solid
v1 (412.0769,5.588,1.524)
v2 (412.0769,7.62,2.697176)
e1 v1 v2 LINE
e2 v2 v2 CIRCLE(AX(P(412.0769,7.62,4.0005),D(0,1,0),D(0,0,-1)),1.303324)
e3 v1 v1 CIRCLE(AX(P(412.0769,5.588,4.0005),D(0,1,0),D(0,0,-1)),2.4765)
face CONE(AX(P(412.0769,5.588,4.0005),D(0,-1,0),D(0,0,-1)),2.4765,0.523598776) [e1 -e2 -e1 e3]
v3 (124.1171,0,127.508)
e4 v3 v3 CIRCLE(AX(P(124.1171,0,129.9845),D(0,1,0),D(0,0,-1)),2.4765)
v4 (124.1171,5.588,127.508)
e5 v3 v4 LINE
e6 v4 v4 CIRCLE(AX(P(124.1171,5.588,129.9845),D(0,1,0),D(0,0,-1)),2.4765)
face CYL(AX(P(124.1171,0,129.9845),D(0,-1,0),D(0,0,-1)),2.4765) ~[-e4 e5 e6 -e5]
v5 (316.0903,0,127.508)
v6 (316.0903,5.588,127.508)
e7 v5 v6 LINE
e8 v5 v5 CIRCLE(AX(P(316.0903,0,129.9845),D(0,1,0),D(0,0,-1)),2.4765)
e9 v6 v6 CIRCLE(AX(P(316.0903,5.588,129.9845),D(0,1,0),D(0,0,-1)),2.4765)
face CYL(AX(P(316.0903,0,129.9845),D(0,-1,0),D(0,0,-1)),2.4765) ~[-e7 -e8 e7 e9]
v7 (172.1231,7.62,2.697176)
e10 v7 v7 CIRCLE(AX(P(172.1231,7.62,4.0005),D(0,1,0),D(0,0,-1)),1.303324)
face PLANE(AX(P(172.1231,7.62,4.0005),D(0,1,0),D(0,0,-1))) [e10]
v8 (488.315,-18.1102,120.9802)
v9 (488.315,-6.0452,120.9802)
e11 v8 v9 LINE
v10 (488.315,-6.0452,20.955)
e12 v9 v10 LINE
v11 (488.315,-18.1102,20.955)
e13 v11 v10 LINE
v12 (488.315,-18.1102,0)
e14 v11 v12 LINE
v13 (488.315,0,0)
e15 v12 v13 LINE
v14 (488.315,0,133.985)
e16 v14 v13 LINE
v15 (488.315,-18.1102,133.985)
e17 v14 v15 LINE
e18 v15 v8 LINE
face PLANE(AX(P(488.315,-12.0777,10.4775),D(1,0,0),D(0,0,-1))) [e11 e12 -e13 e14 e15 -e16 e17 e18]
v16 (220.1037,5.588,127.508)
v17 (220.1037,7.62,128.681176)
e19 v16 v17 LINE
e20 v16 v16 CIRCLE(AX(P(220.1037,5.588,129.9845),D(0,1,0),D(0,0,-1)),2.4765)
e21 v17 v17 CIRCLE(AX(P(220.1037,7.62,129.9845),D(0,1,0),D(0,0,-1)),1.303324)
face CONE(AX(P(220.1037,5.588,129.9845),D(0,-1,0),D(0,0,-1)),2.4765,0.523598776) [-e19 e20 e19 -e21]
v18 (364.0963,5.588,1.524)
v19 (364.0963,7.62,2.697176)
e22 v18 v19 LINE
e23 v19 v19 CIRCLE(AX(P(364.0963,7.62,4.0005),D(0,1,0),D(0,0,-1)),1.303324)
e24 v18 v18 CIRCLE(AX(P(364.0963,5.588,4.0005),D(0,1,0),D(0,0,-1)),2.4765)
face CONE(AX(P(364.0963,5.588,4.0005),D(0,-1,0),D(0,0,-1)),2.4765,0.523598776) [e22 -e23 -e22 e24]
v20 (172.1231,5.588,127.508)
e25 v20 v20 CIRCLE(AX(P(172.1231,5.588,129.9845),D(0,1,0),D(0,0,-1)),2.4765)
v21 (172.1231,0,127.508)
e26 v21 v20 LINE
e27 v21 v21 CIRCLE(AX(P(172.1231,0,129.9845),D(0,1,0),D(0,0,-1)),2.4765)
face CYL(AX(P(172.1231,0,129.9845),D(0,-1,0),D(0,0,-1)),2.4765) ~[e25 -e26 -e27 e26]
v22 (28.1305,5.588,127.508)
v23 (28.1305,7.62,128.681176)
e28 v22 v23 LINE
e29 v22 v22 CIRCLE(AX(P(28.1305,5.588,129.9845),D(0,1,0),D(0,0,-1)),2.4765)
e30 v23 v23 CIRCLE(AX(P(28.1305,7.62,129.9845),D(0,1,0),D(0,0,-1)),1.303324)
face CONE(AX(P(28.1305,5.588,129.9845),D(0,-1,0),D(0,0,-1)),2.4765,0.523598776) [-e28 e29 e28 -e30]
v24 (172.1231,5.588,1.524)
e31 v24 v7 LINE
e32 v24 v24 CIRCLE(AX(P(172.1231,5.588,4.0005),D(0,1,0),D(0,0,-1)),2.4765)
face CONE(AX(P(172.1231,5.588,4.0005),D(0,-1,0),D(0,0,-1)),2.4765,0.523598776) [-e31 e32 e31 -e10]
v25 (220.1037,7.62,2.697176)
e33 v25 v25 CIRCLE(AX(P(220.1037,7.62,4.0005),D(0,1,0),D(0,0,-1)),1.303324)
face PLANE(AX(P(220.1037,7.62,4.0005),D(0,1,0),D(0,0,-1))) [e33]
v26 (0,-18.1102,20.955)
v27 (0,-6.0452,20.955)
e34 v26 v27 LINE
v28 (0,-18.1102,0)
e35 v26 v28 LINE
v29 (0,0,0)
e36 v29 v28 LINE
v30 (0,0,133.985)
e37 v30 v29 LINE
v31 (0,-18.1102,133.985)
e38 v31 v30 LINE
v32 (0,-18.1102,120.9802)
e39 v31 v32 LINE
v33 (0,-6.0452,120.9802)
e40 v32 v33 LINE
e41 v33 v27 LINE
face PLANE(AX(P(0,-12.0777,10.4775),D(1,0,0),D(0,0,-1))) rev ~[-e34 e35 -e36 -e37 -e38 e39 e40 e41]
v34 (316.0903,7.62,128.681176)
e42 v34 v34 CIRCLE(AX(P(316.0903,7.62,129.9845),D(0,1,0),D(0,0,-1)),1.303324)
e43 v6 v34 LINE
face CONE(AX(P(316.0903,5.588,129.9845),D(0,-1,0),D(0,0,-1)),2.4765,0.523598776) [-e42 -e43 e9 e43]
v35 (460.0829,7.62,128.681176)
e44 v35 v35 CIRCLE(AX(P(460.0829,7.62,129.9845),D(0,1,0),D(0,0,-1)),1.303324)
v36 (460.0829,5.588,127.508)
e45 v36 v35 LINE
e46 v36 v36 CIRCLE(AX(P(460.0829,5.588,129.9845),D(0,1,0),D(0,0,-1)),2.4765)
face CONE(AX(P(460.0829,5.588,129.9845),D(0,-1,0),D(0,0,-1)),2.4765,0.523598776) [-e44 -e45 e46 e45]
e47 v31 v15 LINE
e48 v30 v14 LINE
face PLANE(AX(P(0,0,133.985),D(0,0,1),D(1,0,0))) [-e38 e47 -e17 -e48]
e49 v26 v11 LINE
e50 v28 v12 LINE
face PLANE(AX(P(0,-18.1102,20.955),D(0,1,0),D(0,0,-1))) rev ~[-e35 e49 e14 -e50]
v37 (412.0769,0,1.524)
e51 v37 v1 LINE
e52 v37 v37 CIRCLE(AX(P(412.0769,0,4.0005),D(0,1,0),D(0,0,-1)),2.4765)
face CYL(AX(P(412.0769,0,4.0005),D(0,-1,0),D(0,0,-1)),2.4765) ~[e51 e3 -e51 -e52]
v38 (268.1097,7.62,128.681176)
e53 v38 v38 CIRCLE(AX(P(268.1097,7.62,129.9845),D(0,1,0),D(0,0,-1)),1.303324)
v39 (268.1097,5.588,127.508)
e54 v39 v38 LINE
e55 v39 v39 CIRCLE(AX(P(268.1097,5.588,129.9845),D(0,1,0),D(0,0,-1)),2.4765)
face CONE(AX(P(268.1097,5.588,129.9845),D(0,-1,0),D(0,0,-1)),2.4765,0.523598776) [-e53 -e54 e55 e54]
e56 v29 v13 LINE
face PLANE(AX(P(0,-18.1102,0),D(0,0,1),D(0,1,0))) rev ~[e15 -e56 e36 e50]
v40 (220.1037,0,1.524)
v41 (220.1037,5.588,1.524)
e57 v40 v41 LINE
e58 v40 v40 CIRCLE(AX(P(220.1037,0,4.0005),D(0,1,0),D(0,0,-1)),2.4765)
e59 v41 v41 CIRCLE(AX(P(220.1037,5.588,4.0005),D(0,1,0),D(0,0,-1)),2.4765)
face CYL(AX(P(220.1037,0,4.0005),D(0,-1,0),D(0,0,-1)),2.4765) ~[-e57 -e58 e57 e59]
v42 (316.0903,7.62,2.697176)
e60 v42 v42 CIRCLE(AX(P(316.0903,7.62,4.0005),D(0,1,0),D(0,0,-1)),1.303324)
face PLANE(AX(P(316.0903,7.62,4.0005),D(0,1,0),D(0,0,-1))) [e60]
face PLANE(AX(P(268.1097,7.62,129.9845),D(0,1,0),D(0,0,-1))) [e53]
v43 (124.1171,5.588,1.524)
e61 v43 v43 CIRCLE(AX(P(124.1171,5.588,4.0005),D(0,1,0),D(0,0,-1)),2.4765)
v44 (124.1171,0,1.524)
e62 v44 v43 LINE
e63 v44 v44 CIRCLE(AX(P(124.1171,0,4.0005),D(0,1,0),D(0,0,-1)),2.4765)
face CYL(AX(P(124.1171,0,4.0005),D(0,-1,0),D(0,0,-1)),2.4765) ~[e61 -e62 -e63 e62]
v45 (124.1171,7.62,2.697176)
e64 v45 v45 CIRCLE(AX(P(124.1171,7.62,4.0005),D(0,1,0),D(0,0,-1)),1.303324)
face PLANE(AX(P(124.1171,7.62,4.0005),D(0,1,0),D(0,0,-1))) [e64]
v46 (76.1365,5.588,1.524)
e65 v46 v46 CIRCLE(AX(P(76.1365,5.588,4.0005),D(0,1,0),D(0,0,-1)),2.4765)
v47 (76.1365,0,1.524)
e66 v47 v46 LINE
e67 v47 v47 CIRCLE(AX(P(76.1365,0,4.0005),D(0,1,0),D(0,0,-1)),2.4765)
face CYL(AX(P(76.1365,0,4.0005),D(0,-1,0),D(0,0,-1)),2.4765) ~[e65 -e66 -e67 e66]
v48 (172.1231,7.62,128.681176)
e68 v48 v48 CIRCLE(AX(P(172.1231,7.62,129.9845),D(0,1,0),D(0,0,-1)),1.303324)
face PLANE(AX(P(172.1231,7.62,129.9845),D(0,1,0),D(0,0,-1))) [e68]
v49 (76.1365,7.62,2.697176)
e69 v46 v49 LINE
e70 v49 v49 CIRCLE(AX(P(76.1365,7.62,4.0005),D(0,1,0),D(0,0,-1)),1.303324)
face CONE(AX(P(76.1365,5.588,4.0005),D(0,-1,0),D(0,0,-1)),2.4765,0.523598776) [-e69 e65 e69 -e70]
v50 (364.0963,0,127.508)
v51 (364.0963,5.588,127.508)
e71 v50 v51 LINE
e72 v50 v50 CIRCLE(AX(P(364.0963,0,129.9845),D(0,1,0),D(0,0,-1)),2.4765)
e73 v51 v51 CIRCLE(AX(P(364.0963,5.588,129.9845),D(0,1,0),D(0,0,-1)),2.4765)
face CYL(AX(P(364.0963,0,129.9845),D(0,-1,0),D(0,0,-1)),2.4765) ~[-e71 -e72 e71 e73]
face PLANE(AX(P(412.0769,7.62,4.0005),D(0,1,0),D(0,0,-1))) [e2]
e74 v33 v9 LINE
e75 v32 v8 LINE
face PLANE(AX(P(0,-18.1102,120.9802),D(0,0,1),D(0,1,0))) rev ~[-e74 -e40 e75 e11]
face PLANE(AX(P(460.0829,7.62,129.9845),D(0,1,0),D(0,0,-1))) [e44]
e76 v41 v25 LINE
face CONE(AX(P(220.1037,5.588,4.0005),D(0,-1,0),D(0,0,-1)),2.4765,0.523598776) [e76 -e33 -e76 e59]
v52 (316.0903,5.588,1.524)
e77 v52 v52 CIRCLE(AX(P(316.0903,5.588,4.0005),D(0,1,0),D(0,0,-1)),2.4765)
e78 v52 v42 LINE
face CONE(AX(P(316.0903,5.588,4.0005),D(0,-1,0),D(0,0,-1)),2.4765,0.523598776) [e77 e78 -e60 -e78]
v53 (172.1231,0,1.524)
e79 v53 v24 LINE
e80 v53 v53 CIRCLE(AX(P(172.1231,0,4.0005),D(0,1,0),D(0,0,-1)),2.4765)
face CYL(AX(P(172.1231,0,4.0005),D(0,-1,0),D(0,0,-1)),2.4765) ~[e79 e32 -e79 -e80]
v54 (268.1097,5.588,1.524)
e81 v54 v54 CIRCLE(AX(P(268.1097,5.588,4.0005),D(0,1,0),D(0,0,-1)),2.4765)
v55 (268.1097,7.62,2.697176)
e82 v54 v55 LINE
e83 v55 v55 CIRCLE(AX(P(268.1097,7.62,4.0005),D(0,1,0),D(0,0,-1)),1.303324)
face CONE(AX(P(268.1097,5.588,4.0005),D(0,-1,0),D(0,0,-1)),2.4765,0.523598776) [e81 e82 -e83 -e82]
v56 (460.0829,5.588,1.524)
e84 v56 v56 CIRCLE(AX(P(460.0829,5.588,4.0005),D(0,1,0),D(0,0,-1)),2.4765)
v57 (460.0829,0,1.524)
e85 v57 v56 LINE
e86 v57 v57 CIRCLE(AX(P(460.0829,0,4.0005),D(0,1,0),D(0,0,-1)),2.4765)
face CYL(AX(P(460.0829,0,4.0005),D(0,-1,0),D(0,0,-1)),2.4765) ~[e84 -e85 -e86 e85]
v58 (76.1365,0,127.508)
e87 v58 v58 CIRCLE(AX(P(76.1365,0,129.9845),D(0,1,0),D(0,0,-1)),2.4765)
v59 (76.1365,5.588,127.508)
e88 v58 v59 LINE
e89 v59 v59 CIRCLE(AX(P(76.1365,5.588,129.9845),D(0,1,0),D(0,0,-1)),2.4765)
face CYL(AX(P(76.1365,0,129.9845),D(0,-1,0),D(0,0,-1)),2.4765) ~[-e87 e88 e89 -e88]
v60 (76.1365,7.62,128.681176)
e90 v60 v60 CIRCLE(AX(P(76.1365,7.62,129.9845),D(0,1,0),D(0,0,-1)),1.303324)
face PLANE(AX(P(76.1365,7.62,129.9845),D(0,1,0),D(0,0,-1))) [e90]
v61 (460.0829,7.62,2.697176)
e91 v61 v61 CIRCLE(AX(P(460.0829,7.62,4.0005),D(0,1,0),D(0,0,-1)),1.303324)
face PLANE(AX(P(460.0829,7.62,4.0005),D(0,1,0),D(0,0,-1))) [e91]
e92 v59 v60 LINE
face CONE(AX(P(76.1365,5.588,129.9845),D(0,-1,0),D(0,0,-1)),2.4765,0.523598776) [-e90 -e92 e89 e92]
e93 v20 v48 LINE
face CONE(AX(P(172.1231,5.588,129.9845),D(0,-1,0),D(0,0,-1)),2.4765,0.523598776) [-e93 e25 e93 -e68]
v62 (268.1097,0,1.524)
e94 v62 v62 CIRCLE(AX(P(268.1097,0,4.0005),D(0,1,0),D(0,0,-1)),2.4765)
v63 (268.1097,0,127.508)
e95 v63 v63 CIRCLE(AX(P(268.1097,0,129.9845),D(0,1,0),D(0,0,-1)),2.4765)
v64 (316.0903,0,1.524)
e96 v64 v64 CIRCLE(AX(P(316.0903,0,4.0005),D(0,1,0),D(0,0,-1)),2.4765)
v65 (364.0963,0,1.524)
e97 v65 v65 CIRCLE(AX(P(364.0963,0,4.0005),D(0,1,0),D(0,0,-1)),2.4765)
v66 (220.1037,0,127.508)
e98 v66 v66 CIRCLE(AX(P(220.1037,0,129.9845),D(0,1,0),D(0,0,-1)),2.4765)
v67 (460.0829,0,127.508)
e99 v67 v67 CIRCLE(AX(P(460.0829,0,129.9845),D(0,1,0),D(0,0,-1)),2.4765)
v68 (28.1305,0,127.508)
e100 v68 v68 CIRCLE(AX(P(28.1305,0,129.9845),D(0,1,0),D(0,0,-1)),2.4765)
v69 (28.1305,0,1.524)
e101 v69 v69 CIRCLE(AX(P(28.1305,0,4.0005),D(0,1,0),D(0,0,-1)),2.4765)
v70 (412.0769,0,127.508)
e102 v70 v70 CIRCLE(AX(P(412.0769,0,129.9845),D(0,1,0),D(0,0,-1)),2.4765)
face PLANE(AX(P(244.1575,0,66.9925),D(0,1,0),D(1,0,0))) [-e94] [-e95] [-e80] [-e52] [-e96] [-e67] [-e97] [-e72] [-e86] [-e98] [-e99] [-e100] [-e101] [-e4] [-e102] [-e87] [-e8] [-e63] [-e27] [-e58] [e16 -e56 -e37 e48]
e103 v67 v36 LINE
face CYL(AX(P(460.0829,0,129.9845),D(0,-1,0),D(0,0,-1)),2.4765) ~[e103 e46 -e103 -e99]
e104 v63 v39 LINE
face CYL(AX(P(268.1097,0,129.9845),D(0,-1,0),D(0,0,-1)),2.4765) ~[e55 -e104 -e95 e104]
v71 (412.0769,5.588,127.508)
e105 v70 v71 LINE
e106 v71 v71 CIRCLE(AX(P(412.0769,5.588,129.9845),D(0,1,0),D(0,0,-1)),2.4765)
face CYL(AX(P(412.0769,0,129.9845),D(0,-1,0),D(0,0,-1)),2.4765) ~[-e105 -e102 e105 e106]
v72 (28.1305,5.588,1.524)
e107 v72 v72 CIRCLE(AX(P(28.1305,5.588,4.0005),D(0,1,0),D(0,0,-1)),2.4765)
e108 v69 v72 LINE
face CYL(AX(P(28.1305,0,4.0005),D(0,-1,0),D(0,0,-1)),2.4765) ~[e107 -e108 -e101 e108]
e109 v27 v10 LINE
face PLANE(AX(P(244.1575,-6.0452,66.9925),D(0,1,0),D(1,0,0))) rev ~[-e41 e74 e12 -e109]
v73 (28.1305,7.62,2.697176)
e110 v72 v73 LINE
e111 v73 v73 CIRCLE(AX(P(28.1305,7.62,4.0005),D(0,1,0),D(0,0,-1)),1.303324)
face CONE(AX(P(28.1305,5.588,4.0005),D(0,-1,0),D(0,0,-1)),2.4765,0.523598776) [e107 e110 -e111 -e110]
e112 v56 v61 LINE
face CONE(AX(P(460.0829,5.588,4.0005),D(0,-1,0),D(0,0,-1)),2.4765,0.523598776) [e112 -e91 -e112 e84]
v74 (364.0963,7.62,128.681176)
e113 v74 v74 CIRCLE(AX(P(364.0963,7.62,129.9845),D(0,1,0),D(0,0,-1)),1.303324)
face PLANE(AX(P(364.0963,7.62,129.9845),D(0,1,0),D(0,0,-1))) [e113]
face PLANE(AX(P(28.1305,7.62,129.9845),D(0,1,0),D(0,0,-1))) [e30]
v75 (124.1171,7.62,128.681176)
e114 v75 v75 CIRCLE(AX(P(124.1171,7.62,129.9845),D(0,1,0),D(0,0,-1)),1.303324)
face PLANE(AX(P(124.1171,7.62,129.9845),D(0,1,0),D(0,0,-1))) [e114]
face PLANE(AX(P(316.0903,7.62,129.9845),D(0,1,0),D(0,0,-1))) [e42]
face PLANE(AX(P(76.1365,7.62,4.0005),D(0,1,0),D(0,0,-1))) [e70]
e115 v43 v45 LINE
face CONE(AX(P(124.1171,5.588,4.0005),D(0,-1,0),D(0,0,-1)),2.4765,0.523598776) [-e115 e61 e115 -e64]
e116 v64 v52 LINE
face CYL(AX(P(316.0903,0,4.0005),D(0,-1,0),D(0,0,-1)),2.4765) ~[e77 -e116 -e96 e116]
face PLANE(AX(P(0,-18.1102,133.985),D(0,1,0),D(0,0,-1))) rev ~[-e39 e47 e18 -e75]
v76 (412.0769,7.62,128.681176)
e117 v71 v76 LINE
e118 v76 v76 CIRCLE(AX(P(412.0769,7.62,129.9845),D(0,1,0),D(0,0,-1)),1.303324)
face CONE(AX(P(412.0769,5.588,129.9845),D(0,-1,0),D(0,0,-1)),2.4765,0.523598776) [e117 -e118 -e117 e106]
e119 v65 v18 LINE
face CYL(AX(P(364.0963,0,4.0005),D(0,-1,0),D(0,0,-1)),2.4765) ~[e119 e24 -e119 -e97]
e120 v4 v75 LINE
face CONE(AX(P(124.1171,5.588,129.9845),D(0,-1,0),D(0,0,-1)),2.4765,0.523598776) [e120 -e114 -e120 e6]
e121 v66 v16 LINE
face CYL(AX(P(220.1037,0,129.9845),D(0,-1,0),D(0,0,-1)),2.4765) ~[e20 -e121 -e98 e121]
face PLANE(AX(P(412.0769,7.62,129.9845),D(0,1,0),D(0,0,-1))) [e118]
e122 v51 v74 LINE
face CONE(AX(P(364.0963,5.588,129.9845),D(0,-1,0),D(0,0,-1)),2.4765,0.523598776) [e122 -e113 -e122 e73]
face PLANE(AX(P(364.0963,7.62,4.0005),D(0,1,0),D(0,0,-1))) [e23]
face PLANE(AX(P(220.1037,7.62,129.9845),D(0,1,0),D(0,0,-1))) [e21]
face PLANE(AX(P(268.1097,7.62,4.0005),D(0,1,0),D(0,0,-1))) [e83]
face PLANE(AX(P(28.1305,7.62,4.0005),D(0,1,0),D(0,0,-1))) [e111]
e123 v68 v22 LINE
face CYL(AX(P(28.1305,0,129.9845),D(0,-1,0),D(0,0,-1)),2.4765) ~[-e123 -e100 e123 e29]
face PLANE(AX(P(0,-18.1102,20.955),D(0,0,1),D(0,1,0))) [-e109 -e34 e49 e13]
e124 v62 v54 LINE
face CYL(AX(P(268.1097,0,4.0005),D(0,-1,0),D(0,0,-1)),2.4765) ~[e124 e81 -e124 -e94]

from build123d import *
from OCP.BRepFilletAPI import BRepFilletAPI_MakeChamfer

# Parameters (mm, degrees)
SKETCH1_W                   = 488.315
SKETCH1_H                   = 133.985
BOSS_EXTRUDE1_DEPTH         = 6.0452
SKETCH2_R                   = 2.4765
BOSS_EXTRUDE2_DEPTH         = 7.62
CHAMFER1_SIZE               = 2.032
CHAMFER1_SIZE2              = 1.173175747
LPATTERN1_COUNT             = 5
LPATTERN1_PITCH             = 95.9866
CHAMFER1_OF_LPATTERN1_SIZE  = 2.032
CHAMFER1_OF_LPATTERN1_SIZE2 = 1.173175747
SKETCH3_W                   = 20.955
SKETCH3_H                   = 12.065
SKETCH3_W_2                 = 13.0048
BOSS_EXTRUDE3_DEPTH         = 488.315


with BuildPart() as part:
    # Sketch1 → Boss-Extrude1 (new body)
    with BuildSketch(Plane(origin=(0, 0, 0), x_dir=(1, 0, 0), z_dir=(0, 1, 0))):
        with Locations((244.1575, -66.9925)):
            Rectangle(SKETCH1_W, SKETCH1_H)
    extrude(amount=-BOSS_EXTRUDE1_DEPTH)

    # Sketch2 → Boss-Extrude2 (add)
    with BuildSketch(Plane(origin=(0, 0, 0), x_dir=(1, 0, 0), z_dir=(0, 1, 0))):
        with Locations(Location((28.1305, -4.0005, 0), (0, 0, 90))):
            Circle(SKETCH2_R)
        with Locations(Location((76.1365, -4.0005, 0), (0, 0, 90))):
            Circle(SKETCH2_R)
        with Locations(Location((28.1305, -129.9845, 0), (0, 0, 90))):
            Circle(SKETCH2_R)
        with Locations(Location((76.1365, -129.9845, 0), (0, 0, 90))):
            Circle(SKETCH2_R)
    boss_extrude2 = extrude(amount=BOSS_EXTRUDE2_DEPTH)

    # Chamfer1: one chamfer whose edges measure the first distance from different faces: ONE call of the kernel's chamfer builder (chamfer() names one face for all edges)
    chamfer1_edges_1 = [part.edges().sort_by_distance(p)[0] for p in [
        (28.1305, 7.62, 6.477),
    ]]
    chamfer1_side_1 = [part.faces().sort_by_distance(p)[0] for p in [
        (28.1305, 3.81, 6.477),
    ]]
    chamfer1_edges_2 = [part.edges().sort_by_distance(p)[0] for p in [
        (76.1365, 7.62, 6.477),
    ]]
    chamfer1_side_2 = [part.faces().sort_by_distance(p)[0] for p in [
        (76.1365, 3.81, 6.477),
    ]]
    chamfer1_edges_3 = [part.edges().sort_by_distance(p)[0] for p in [
        (28.1305, 7.62, 132.461),
    ]]
    chamfer1_side_3 = [part.faces().sort_by_distance(p)[0] for p in [
        (28.1305, 3.81, 132.461),
    ]]
    chamfer1_edges_4 = [part.edges().sort_by_distance(p)[0] for p in [
        (76.1365, 7.62, 132.461),
    ]]
    chamfer1_side_4 = [part.faces().sort_by_distance(p)[0] for p in [
        (76.1365, 3.81, 132.461),
    ]]
    chamfer1 = BRepFilletAPI_MakeChamfer(part.part.solid().wrapped)
    for e in chamfer1_edges_1:
        chamfer1.Add(CHAMFER1_SIZE, CHAMFER1_SIZE2, e.wrapped, chamfer1_side_1[0].wrapped)  # the first distance lies on this face
    for e in chamfer1_edges_2:
        chamfer1.Add(CHAMFER1_SIZE, CHAMFER1_SIZE2, e.wrapped, chamfer1_side_2[0].wrapped)  # the first distance lies on this face
    for e in chamfer1_edges_3:
        chamfer1.Add(CHAMFER1_SIZE, CHAMFER1_SIZE2, e.wrapped, chamfer1_side_3[0].wrapped)  # the first distance lies on this face
    for e in chamfer1_edges_4:
        chamfer1.Add(CHAMFER1_SIZE, CHAMFER1_SIZE2, e.wrapped, chamfer1_side_4[0].wrapped)  # the first distance lies on this face
    add(Compound.cast(chamfer1.Shape()), mode=Mode.REPLACE)

    # LPattern1: Boss-Extrude2 ×5
    with Locations(*[(i * LPATTERN1_PITCH, 0, 0) for i in range(1, LPATTERN1_COUNT)]):
        add(boss_extrude2)

    # Chamfer1 of LPattern1: one chamfer whose edges measure the first distance from different faces: ONE call of the kernel's chamfer builder (chamfer() names one face for all edges)
    chamfer1_of_lpattern1_edges_1 = [part.edges().sort_by_distance(p)[0] for p in [
        (124.1171, 7.62, 6.477),
    ]]
    chamfer1_of_lpattern1_side_1 = [part.faces().sort_by_distance(p)[0] for p in [
        (124.1171, 3.81, 6.477),
    ]]
    chamfer1_of_lpattern1_edges_2 = [part.edges().sort_by_distance(p)[0] for p in [
        (172.1231, 7.62, 6.477),
    ]]
    chamfer1_of_lpattern1_side_2 = [part.faces().sort_by_distance(p)[0] for p in [
        (172.1231, 3.81, 6.477),
    ]]
    chamfer1_of_lpattern1_edges_3 = [part.edges().sort_by_distance(p)[0] for p in [
        (124.1171, 7.62, 132.461),
    ]]
    chamfer1_of_lpattern1_side_3 = [part.faces().sort_by_distance(p)[0] for p in [
        (124.1171, 3.81, 132.461),
    ]]
    chamfer1_of_lpattern1_edges_4 = [part.edges().sort_by_distance(p)[0] for p in [
        (172.1231, 7.62, 132.461),
    ]]
    chamfer1_of_lpattern1_side_4 = [part.faces().sort_by_distance(p)[0] for p in [
        (172.1231, 3.81, 132.461),
    ]]
    chamfer1_of_lpattern1_edges_5 = [part.edges().sort_by_distance(p)[0] for p in [
        (220.1037, 7.62, 6.477),
    ]]
    chamfer1_of_lpattern1_side_5 = [part.faces().sort_by_distance(p)[0] for p in [
        (220.1037, 3.81, 6.477),
    ]]
    chamfer1_of_lpattern1_edges_6 = [part.edges().sort_by_distance(p)[0] for p in [
        (268.1097, 7.62, 6.477),
    ]]
    chamfer1_of_lpattern1_side_6 = [part.faces().sort_by_distance(p)[0] for p in [
        (268.1097, 3.81, 6.477),
    ]]
    chamfer1_of_lpattern1_edges_7 = [part.edges().sort_by_distance(p)[0] for p in [
        (220.1037, 7.62, 132.461),
    ]]
    chamfer1_of_lpattern1_side_7 = [part.faces().sort_by_distance(p)[0] for p in [
        (220.1037, 3.81, 132.461),
    ]]
    chamfer1_of_lpattern1_edges_8 = [part.edges().sort_by_distance(p)[0] for p in [
        (268.1097, 7.62, 132.461),
    ]]
    chamfer1_of_lpattern1_side_8 = [part.faces().sort_by_distance(p)[0] for p in [
        (268.1097, 3.81, 132.461),
    ]]
    chamfer1_of_lpattern1_edges_9 = [part.edges().sort_by_distance(p)[0] for p in [
        (316.0903, 7.62, 6.477),
    ]]
    chamfer1_of_lpattern1_side_9 = [part.faces().sort_by_distance(p)[0] for p in [
        (316.0903, 3.81, 6.477),
    ]]
    chamfer1_of_lpattern1_edges_10 = [part.edges().sort_by_distance(p)[0] for p in [
        (364.0963, 7.62, 6.477),
    ]]
    chamfer1_of_lpattern1_side_10 = [part.faces().sort_by_distance(p)[0] for p in [
        (364.0963, 3.81, 6.477),
    ]]
    chamfer1_of_lpattern1_edges_11 = [part.edges().sort_by_distance(p)[0] for p in [
        (316.0903, 7.62, 132.461),
    ]]
    chamfer1_of_lpattern1_side_11 = [part.faces().sort_by_distance(p)[0] for p in [
        (316.0903, 3.81, 132.461),
    ]]
    chamfer1_of_lpattern1_edges_12 = [part.edges().sort_by_distance(p)[0] for p in [
        (364.0963, 7.62, 132.461),
    ]]
    chamfer1_of_lpattern1_side_12 = [part.faces().sort_by_distance(p)[0] for p in [
        (364.0963, 3.81, 132.461),
    ]]
    chamfer1_of_lpattern1_edges_13 = [part.edges().sort_by_distance(p)[0] for p in [
        (412.0769, 7.62, 6.477),
    ]]
    chamfer1_of_lpattern1_side_13 = [part.faces().sort_by_distance(p)[0] for p in [
        (412.0769, 3.81, 6.477),
    ]]
    chamfer1_of_lpattern1_edges_14 = [part.edges().sort_by_distance(p)[0] for p in [
        (460.0829, 7.62, 6.477),
    ]]
    chamfer1_of_lpattern1_side_14 = [part.faces().sort_by_distance(p)[0] for p in [
        (460.0829, 3.81, 6.477),
    ]]
    chamfer1_of_lpattern1_edges_15 = [part.edges().sort_by_distance(p)[0] for p in [
        (412.0769, 7.62, 132.461),
    ]]
    chamfer1_of_lpattern1_side_15 = [part.faces().sort_by_distance(p)[0] for p in [
        (412.0769, 3.81, 132.461),
    ]]
    chamfer1_of_lpattern1_edges_16 = [part.edges().sort_by_distance(p)[0] for p in [
        (460.0829, 7.62, 132.461),
    ]]
    chamfer1_of_lpattern1_side_16 = [part.faces().sort_by_distance(p)[0] for p in [
        (460.0829, 3.81, 132.461),
    ]]
    chamfer1_of_lpattern1 = BRepFilletAPI_MakeChamfer(part.part.solid().wrapped)
    for e in chamfer1_of_lpattern1_edges_1:
        chamfer1_of_lpattern1.Add(CHAMFER1_OF_LPATTERN1_SIZE, CHAMFER1_OF_LPATTERN1_SIZE2, e.wrapped, chamfer1_of_lpattern1_side_1[0].wrapped)  # the first distance lies on this face
    for e in chamfer1_of_lpattern1_edges_2:
        chamfer1_of_lpattern1.Add(CHAMFER1_OF_LPATTERN1_SIZE, CHAMFER1_OF_LPATTERN1_SIZE2, e.wrapped, chamfer1_of_lpattern1_side_2[0].wrapped)  # the first distance lies on this face
    for e in chamfer1_of_lpattern1_edges_3:
        chamfer1_of_lpattern1.Add(CHAMFER1_OF_LPATTERN1_SIZE, CHAMFER1_OF_LPATTERN1_SIZE2, e.wrapped, chamfer1_of_lpattern1_side_3[0].wrapped)  # the first distance lies on this face
    for e in chamfer1_of_lpattern1_edges_4:
        chamfer1_of_lpattern1.Add(CHAMFER1_OF_LPATTERN1_SIZE, CHAMFER1_OF_LPATTERN1_SIZE2, e.wrapped, chamfer1_of_lpattern1_side_4[0].wrapped)  # the first distance lies on this face
    for e in chamfer1_of_lpattern1_edges_5:
        chamfer1_of_lpattern1.Add(CHAMFER1_OF_LPATTERN1_SIZE, CHAMFER1_OF_LPATTERN1_SIZE2, e.wrapped, chamfer1_of_lpattern1_side_5[0].wrapped)  # the first distance lies on this face
    for e in chamfer1_of_lpattern1_edges_6:
        chamfer1_of_lpattern1.Add(CHAMFER1_OF_LPATTERN1_SIZE, CHAMFER1_OF_LPATTERN1_SIZE2, e.wrapped, chamfer1_of_lpattern1_side_6[0].wrapped)  # the first distance lies on this face
    for e in chamfer1_of_lpattern1_edges_7:
        chamfer1_of_lpattern1.Add(CHAMFER1_OF_LPATTERN1_SIZE, CHAMFER1_OF_LPATTERN1_SIZE2, e.wrapped, chamfer1_of_lpattern1_side_7[0].wrapped)  # the first distance lies on this face
    for e in chamfer1_of_lpattern1_edges_8:
        chamfer1_of_lpattern1.Add(CHAMFER1_OF_LPATTERN1_SIZE, CHAMFER1_OF_LPATTERN1_SIZE2, e.wrapped, chamfer1_of_lpattern1_side_8[0].wrapped)  # the first distance lies on this face
    for e in chamfer1_of_lpattern1_edges_9:
        chamfer1_of_lpattern1.Add(CHAMFER1_OF_LPATTERN1_SIZE, CHAMFER1_OF_LPATTERN1_SIZE2, e.wrapped, chamfer1_of_lpattern1_side_9[0].wrapped)  # the first distance lies on this face
    for e in chamfer1_of_lpattern1_edges_10:
        chamfer1_of_lpattern1.Add(CHAMFER1_OF_LPATTERN1_SIZE, CHAMFER1_OF_LPATTERN1_SIZE2, e.wrapped, chamfer1_of_lpattern1_side_10[0].wrapped)  # the first distance lies on this face
    for e in chamfer1_of_lpattern1_edges_11:
        chamfer1_of_lpattern1.Add(CHAMFER1_OF_LPATTERN1_SIZE, CHAMFER1_OF_LPATTERN1_SIZE2, e.wrapped, chamfer1_of_lpattern1_side_11[0].wrapped)  # the first distance lies on this face
    for e in chamfer1_of_lpattern1_edges_12:
        chamfer1_of_lpattern1.Add(CHAMFER1_OF_LPATTERN1_SIZE, CHAMFER1_OF_LPATTERN1_SIZE2, e.wrapped, chamfer1_of_lpattern1_side_12[0].wrapped)  # the first distance lies on this face
    for e in chamfer1_of_lpattern1_edges_13:
        chamfer1_of_lpattern1.Add(CHAMFER1_OF_LPATTERN1_SIZE, CHAMFER1_OF_LPATTERN1_SIZE2, e.wrapped, chamfer1_of_lpattern1_side_13[0].wrapped)  # the first distance lies on this face
    for e in chamfer1_of_lpattern1_edges_14:
        chamfer1_of_lpattern1.Add(CHAMFER1_OF_LPATTERN1_SIZE, CHAMFER1_OF_LPATTERN1_SIZE2, e.wrapped, chamfer1_of_lpattern1_side_14[0].wrapped)  # the first distance lies on this face
    for e in chamfer1_of_lpattern1_edges_15:
        chamfer1_of_lpattern1.Add(CHAMFER1_OF_LPATTERN1_SIZE, CHAMFER1_OF_LPATTERN1_SIZE2, e.wrapped, chamfer1_of_lpattern1_side_15[0].wrapped)  # the first distance lies on this face
    for e in chamfer1_of_lpattern1_edges_16:
        chamfer1_of_lpattern1.Add(CHAMFER1_OF_LPATTERN1_SIZE, CHAMFER1_OF_LPATTERN1_SIZE2, e.wrapped, chamfer1_of_lpattern1_side_16[0].wrapped)  # the first distance lies on this face
    add(Compound.cast(chamfer1_of_lpattern1.Shape()), mode=Mode.REPLACE)

    # Sketch3 → Boss-Extrude3 (add)
    with BuildSketch(Plane(origin=(0, 0, 0), x_dir=(0, 0, -1), z_dir=(1, 0, 0))):
        with Locations((-10.4775, -12.0777)):
            Rectangle(SKETCH3_W, SKETCH3_H)
        with Locations((-127.4826, -12.0777)):
            Rectangle(SKETCH3_W_2, SKETCH3_H)
    extrude(amount=BOSS_EXTRUDE3_DEPTH)


solid = part.part
